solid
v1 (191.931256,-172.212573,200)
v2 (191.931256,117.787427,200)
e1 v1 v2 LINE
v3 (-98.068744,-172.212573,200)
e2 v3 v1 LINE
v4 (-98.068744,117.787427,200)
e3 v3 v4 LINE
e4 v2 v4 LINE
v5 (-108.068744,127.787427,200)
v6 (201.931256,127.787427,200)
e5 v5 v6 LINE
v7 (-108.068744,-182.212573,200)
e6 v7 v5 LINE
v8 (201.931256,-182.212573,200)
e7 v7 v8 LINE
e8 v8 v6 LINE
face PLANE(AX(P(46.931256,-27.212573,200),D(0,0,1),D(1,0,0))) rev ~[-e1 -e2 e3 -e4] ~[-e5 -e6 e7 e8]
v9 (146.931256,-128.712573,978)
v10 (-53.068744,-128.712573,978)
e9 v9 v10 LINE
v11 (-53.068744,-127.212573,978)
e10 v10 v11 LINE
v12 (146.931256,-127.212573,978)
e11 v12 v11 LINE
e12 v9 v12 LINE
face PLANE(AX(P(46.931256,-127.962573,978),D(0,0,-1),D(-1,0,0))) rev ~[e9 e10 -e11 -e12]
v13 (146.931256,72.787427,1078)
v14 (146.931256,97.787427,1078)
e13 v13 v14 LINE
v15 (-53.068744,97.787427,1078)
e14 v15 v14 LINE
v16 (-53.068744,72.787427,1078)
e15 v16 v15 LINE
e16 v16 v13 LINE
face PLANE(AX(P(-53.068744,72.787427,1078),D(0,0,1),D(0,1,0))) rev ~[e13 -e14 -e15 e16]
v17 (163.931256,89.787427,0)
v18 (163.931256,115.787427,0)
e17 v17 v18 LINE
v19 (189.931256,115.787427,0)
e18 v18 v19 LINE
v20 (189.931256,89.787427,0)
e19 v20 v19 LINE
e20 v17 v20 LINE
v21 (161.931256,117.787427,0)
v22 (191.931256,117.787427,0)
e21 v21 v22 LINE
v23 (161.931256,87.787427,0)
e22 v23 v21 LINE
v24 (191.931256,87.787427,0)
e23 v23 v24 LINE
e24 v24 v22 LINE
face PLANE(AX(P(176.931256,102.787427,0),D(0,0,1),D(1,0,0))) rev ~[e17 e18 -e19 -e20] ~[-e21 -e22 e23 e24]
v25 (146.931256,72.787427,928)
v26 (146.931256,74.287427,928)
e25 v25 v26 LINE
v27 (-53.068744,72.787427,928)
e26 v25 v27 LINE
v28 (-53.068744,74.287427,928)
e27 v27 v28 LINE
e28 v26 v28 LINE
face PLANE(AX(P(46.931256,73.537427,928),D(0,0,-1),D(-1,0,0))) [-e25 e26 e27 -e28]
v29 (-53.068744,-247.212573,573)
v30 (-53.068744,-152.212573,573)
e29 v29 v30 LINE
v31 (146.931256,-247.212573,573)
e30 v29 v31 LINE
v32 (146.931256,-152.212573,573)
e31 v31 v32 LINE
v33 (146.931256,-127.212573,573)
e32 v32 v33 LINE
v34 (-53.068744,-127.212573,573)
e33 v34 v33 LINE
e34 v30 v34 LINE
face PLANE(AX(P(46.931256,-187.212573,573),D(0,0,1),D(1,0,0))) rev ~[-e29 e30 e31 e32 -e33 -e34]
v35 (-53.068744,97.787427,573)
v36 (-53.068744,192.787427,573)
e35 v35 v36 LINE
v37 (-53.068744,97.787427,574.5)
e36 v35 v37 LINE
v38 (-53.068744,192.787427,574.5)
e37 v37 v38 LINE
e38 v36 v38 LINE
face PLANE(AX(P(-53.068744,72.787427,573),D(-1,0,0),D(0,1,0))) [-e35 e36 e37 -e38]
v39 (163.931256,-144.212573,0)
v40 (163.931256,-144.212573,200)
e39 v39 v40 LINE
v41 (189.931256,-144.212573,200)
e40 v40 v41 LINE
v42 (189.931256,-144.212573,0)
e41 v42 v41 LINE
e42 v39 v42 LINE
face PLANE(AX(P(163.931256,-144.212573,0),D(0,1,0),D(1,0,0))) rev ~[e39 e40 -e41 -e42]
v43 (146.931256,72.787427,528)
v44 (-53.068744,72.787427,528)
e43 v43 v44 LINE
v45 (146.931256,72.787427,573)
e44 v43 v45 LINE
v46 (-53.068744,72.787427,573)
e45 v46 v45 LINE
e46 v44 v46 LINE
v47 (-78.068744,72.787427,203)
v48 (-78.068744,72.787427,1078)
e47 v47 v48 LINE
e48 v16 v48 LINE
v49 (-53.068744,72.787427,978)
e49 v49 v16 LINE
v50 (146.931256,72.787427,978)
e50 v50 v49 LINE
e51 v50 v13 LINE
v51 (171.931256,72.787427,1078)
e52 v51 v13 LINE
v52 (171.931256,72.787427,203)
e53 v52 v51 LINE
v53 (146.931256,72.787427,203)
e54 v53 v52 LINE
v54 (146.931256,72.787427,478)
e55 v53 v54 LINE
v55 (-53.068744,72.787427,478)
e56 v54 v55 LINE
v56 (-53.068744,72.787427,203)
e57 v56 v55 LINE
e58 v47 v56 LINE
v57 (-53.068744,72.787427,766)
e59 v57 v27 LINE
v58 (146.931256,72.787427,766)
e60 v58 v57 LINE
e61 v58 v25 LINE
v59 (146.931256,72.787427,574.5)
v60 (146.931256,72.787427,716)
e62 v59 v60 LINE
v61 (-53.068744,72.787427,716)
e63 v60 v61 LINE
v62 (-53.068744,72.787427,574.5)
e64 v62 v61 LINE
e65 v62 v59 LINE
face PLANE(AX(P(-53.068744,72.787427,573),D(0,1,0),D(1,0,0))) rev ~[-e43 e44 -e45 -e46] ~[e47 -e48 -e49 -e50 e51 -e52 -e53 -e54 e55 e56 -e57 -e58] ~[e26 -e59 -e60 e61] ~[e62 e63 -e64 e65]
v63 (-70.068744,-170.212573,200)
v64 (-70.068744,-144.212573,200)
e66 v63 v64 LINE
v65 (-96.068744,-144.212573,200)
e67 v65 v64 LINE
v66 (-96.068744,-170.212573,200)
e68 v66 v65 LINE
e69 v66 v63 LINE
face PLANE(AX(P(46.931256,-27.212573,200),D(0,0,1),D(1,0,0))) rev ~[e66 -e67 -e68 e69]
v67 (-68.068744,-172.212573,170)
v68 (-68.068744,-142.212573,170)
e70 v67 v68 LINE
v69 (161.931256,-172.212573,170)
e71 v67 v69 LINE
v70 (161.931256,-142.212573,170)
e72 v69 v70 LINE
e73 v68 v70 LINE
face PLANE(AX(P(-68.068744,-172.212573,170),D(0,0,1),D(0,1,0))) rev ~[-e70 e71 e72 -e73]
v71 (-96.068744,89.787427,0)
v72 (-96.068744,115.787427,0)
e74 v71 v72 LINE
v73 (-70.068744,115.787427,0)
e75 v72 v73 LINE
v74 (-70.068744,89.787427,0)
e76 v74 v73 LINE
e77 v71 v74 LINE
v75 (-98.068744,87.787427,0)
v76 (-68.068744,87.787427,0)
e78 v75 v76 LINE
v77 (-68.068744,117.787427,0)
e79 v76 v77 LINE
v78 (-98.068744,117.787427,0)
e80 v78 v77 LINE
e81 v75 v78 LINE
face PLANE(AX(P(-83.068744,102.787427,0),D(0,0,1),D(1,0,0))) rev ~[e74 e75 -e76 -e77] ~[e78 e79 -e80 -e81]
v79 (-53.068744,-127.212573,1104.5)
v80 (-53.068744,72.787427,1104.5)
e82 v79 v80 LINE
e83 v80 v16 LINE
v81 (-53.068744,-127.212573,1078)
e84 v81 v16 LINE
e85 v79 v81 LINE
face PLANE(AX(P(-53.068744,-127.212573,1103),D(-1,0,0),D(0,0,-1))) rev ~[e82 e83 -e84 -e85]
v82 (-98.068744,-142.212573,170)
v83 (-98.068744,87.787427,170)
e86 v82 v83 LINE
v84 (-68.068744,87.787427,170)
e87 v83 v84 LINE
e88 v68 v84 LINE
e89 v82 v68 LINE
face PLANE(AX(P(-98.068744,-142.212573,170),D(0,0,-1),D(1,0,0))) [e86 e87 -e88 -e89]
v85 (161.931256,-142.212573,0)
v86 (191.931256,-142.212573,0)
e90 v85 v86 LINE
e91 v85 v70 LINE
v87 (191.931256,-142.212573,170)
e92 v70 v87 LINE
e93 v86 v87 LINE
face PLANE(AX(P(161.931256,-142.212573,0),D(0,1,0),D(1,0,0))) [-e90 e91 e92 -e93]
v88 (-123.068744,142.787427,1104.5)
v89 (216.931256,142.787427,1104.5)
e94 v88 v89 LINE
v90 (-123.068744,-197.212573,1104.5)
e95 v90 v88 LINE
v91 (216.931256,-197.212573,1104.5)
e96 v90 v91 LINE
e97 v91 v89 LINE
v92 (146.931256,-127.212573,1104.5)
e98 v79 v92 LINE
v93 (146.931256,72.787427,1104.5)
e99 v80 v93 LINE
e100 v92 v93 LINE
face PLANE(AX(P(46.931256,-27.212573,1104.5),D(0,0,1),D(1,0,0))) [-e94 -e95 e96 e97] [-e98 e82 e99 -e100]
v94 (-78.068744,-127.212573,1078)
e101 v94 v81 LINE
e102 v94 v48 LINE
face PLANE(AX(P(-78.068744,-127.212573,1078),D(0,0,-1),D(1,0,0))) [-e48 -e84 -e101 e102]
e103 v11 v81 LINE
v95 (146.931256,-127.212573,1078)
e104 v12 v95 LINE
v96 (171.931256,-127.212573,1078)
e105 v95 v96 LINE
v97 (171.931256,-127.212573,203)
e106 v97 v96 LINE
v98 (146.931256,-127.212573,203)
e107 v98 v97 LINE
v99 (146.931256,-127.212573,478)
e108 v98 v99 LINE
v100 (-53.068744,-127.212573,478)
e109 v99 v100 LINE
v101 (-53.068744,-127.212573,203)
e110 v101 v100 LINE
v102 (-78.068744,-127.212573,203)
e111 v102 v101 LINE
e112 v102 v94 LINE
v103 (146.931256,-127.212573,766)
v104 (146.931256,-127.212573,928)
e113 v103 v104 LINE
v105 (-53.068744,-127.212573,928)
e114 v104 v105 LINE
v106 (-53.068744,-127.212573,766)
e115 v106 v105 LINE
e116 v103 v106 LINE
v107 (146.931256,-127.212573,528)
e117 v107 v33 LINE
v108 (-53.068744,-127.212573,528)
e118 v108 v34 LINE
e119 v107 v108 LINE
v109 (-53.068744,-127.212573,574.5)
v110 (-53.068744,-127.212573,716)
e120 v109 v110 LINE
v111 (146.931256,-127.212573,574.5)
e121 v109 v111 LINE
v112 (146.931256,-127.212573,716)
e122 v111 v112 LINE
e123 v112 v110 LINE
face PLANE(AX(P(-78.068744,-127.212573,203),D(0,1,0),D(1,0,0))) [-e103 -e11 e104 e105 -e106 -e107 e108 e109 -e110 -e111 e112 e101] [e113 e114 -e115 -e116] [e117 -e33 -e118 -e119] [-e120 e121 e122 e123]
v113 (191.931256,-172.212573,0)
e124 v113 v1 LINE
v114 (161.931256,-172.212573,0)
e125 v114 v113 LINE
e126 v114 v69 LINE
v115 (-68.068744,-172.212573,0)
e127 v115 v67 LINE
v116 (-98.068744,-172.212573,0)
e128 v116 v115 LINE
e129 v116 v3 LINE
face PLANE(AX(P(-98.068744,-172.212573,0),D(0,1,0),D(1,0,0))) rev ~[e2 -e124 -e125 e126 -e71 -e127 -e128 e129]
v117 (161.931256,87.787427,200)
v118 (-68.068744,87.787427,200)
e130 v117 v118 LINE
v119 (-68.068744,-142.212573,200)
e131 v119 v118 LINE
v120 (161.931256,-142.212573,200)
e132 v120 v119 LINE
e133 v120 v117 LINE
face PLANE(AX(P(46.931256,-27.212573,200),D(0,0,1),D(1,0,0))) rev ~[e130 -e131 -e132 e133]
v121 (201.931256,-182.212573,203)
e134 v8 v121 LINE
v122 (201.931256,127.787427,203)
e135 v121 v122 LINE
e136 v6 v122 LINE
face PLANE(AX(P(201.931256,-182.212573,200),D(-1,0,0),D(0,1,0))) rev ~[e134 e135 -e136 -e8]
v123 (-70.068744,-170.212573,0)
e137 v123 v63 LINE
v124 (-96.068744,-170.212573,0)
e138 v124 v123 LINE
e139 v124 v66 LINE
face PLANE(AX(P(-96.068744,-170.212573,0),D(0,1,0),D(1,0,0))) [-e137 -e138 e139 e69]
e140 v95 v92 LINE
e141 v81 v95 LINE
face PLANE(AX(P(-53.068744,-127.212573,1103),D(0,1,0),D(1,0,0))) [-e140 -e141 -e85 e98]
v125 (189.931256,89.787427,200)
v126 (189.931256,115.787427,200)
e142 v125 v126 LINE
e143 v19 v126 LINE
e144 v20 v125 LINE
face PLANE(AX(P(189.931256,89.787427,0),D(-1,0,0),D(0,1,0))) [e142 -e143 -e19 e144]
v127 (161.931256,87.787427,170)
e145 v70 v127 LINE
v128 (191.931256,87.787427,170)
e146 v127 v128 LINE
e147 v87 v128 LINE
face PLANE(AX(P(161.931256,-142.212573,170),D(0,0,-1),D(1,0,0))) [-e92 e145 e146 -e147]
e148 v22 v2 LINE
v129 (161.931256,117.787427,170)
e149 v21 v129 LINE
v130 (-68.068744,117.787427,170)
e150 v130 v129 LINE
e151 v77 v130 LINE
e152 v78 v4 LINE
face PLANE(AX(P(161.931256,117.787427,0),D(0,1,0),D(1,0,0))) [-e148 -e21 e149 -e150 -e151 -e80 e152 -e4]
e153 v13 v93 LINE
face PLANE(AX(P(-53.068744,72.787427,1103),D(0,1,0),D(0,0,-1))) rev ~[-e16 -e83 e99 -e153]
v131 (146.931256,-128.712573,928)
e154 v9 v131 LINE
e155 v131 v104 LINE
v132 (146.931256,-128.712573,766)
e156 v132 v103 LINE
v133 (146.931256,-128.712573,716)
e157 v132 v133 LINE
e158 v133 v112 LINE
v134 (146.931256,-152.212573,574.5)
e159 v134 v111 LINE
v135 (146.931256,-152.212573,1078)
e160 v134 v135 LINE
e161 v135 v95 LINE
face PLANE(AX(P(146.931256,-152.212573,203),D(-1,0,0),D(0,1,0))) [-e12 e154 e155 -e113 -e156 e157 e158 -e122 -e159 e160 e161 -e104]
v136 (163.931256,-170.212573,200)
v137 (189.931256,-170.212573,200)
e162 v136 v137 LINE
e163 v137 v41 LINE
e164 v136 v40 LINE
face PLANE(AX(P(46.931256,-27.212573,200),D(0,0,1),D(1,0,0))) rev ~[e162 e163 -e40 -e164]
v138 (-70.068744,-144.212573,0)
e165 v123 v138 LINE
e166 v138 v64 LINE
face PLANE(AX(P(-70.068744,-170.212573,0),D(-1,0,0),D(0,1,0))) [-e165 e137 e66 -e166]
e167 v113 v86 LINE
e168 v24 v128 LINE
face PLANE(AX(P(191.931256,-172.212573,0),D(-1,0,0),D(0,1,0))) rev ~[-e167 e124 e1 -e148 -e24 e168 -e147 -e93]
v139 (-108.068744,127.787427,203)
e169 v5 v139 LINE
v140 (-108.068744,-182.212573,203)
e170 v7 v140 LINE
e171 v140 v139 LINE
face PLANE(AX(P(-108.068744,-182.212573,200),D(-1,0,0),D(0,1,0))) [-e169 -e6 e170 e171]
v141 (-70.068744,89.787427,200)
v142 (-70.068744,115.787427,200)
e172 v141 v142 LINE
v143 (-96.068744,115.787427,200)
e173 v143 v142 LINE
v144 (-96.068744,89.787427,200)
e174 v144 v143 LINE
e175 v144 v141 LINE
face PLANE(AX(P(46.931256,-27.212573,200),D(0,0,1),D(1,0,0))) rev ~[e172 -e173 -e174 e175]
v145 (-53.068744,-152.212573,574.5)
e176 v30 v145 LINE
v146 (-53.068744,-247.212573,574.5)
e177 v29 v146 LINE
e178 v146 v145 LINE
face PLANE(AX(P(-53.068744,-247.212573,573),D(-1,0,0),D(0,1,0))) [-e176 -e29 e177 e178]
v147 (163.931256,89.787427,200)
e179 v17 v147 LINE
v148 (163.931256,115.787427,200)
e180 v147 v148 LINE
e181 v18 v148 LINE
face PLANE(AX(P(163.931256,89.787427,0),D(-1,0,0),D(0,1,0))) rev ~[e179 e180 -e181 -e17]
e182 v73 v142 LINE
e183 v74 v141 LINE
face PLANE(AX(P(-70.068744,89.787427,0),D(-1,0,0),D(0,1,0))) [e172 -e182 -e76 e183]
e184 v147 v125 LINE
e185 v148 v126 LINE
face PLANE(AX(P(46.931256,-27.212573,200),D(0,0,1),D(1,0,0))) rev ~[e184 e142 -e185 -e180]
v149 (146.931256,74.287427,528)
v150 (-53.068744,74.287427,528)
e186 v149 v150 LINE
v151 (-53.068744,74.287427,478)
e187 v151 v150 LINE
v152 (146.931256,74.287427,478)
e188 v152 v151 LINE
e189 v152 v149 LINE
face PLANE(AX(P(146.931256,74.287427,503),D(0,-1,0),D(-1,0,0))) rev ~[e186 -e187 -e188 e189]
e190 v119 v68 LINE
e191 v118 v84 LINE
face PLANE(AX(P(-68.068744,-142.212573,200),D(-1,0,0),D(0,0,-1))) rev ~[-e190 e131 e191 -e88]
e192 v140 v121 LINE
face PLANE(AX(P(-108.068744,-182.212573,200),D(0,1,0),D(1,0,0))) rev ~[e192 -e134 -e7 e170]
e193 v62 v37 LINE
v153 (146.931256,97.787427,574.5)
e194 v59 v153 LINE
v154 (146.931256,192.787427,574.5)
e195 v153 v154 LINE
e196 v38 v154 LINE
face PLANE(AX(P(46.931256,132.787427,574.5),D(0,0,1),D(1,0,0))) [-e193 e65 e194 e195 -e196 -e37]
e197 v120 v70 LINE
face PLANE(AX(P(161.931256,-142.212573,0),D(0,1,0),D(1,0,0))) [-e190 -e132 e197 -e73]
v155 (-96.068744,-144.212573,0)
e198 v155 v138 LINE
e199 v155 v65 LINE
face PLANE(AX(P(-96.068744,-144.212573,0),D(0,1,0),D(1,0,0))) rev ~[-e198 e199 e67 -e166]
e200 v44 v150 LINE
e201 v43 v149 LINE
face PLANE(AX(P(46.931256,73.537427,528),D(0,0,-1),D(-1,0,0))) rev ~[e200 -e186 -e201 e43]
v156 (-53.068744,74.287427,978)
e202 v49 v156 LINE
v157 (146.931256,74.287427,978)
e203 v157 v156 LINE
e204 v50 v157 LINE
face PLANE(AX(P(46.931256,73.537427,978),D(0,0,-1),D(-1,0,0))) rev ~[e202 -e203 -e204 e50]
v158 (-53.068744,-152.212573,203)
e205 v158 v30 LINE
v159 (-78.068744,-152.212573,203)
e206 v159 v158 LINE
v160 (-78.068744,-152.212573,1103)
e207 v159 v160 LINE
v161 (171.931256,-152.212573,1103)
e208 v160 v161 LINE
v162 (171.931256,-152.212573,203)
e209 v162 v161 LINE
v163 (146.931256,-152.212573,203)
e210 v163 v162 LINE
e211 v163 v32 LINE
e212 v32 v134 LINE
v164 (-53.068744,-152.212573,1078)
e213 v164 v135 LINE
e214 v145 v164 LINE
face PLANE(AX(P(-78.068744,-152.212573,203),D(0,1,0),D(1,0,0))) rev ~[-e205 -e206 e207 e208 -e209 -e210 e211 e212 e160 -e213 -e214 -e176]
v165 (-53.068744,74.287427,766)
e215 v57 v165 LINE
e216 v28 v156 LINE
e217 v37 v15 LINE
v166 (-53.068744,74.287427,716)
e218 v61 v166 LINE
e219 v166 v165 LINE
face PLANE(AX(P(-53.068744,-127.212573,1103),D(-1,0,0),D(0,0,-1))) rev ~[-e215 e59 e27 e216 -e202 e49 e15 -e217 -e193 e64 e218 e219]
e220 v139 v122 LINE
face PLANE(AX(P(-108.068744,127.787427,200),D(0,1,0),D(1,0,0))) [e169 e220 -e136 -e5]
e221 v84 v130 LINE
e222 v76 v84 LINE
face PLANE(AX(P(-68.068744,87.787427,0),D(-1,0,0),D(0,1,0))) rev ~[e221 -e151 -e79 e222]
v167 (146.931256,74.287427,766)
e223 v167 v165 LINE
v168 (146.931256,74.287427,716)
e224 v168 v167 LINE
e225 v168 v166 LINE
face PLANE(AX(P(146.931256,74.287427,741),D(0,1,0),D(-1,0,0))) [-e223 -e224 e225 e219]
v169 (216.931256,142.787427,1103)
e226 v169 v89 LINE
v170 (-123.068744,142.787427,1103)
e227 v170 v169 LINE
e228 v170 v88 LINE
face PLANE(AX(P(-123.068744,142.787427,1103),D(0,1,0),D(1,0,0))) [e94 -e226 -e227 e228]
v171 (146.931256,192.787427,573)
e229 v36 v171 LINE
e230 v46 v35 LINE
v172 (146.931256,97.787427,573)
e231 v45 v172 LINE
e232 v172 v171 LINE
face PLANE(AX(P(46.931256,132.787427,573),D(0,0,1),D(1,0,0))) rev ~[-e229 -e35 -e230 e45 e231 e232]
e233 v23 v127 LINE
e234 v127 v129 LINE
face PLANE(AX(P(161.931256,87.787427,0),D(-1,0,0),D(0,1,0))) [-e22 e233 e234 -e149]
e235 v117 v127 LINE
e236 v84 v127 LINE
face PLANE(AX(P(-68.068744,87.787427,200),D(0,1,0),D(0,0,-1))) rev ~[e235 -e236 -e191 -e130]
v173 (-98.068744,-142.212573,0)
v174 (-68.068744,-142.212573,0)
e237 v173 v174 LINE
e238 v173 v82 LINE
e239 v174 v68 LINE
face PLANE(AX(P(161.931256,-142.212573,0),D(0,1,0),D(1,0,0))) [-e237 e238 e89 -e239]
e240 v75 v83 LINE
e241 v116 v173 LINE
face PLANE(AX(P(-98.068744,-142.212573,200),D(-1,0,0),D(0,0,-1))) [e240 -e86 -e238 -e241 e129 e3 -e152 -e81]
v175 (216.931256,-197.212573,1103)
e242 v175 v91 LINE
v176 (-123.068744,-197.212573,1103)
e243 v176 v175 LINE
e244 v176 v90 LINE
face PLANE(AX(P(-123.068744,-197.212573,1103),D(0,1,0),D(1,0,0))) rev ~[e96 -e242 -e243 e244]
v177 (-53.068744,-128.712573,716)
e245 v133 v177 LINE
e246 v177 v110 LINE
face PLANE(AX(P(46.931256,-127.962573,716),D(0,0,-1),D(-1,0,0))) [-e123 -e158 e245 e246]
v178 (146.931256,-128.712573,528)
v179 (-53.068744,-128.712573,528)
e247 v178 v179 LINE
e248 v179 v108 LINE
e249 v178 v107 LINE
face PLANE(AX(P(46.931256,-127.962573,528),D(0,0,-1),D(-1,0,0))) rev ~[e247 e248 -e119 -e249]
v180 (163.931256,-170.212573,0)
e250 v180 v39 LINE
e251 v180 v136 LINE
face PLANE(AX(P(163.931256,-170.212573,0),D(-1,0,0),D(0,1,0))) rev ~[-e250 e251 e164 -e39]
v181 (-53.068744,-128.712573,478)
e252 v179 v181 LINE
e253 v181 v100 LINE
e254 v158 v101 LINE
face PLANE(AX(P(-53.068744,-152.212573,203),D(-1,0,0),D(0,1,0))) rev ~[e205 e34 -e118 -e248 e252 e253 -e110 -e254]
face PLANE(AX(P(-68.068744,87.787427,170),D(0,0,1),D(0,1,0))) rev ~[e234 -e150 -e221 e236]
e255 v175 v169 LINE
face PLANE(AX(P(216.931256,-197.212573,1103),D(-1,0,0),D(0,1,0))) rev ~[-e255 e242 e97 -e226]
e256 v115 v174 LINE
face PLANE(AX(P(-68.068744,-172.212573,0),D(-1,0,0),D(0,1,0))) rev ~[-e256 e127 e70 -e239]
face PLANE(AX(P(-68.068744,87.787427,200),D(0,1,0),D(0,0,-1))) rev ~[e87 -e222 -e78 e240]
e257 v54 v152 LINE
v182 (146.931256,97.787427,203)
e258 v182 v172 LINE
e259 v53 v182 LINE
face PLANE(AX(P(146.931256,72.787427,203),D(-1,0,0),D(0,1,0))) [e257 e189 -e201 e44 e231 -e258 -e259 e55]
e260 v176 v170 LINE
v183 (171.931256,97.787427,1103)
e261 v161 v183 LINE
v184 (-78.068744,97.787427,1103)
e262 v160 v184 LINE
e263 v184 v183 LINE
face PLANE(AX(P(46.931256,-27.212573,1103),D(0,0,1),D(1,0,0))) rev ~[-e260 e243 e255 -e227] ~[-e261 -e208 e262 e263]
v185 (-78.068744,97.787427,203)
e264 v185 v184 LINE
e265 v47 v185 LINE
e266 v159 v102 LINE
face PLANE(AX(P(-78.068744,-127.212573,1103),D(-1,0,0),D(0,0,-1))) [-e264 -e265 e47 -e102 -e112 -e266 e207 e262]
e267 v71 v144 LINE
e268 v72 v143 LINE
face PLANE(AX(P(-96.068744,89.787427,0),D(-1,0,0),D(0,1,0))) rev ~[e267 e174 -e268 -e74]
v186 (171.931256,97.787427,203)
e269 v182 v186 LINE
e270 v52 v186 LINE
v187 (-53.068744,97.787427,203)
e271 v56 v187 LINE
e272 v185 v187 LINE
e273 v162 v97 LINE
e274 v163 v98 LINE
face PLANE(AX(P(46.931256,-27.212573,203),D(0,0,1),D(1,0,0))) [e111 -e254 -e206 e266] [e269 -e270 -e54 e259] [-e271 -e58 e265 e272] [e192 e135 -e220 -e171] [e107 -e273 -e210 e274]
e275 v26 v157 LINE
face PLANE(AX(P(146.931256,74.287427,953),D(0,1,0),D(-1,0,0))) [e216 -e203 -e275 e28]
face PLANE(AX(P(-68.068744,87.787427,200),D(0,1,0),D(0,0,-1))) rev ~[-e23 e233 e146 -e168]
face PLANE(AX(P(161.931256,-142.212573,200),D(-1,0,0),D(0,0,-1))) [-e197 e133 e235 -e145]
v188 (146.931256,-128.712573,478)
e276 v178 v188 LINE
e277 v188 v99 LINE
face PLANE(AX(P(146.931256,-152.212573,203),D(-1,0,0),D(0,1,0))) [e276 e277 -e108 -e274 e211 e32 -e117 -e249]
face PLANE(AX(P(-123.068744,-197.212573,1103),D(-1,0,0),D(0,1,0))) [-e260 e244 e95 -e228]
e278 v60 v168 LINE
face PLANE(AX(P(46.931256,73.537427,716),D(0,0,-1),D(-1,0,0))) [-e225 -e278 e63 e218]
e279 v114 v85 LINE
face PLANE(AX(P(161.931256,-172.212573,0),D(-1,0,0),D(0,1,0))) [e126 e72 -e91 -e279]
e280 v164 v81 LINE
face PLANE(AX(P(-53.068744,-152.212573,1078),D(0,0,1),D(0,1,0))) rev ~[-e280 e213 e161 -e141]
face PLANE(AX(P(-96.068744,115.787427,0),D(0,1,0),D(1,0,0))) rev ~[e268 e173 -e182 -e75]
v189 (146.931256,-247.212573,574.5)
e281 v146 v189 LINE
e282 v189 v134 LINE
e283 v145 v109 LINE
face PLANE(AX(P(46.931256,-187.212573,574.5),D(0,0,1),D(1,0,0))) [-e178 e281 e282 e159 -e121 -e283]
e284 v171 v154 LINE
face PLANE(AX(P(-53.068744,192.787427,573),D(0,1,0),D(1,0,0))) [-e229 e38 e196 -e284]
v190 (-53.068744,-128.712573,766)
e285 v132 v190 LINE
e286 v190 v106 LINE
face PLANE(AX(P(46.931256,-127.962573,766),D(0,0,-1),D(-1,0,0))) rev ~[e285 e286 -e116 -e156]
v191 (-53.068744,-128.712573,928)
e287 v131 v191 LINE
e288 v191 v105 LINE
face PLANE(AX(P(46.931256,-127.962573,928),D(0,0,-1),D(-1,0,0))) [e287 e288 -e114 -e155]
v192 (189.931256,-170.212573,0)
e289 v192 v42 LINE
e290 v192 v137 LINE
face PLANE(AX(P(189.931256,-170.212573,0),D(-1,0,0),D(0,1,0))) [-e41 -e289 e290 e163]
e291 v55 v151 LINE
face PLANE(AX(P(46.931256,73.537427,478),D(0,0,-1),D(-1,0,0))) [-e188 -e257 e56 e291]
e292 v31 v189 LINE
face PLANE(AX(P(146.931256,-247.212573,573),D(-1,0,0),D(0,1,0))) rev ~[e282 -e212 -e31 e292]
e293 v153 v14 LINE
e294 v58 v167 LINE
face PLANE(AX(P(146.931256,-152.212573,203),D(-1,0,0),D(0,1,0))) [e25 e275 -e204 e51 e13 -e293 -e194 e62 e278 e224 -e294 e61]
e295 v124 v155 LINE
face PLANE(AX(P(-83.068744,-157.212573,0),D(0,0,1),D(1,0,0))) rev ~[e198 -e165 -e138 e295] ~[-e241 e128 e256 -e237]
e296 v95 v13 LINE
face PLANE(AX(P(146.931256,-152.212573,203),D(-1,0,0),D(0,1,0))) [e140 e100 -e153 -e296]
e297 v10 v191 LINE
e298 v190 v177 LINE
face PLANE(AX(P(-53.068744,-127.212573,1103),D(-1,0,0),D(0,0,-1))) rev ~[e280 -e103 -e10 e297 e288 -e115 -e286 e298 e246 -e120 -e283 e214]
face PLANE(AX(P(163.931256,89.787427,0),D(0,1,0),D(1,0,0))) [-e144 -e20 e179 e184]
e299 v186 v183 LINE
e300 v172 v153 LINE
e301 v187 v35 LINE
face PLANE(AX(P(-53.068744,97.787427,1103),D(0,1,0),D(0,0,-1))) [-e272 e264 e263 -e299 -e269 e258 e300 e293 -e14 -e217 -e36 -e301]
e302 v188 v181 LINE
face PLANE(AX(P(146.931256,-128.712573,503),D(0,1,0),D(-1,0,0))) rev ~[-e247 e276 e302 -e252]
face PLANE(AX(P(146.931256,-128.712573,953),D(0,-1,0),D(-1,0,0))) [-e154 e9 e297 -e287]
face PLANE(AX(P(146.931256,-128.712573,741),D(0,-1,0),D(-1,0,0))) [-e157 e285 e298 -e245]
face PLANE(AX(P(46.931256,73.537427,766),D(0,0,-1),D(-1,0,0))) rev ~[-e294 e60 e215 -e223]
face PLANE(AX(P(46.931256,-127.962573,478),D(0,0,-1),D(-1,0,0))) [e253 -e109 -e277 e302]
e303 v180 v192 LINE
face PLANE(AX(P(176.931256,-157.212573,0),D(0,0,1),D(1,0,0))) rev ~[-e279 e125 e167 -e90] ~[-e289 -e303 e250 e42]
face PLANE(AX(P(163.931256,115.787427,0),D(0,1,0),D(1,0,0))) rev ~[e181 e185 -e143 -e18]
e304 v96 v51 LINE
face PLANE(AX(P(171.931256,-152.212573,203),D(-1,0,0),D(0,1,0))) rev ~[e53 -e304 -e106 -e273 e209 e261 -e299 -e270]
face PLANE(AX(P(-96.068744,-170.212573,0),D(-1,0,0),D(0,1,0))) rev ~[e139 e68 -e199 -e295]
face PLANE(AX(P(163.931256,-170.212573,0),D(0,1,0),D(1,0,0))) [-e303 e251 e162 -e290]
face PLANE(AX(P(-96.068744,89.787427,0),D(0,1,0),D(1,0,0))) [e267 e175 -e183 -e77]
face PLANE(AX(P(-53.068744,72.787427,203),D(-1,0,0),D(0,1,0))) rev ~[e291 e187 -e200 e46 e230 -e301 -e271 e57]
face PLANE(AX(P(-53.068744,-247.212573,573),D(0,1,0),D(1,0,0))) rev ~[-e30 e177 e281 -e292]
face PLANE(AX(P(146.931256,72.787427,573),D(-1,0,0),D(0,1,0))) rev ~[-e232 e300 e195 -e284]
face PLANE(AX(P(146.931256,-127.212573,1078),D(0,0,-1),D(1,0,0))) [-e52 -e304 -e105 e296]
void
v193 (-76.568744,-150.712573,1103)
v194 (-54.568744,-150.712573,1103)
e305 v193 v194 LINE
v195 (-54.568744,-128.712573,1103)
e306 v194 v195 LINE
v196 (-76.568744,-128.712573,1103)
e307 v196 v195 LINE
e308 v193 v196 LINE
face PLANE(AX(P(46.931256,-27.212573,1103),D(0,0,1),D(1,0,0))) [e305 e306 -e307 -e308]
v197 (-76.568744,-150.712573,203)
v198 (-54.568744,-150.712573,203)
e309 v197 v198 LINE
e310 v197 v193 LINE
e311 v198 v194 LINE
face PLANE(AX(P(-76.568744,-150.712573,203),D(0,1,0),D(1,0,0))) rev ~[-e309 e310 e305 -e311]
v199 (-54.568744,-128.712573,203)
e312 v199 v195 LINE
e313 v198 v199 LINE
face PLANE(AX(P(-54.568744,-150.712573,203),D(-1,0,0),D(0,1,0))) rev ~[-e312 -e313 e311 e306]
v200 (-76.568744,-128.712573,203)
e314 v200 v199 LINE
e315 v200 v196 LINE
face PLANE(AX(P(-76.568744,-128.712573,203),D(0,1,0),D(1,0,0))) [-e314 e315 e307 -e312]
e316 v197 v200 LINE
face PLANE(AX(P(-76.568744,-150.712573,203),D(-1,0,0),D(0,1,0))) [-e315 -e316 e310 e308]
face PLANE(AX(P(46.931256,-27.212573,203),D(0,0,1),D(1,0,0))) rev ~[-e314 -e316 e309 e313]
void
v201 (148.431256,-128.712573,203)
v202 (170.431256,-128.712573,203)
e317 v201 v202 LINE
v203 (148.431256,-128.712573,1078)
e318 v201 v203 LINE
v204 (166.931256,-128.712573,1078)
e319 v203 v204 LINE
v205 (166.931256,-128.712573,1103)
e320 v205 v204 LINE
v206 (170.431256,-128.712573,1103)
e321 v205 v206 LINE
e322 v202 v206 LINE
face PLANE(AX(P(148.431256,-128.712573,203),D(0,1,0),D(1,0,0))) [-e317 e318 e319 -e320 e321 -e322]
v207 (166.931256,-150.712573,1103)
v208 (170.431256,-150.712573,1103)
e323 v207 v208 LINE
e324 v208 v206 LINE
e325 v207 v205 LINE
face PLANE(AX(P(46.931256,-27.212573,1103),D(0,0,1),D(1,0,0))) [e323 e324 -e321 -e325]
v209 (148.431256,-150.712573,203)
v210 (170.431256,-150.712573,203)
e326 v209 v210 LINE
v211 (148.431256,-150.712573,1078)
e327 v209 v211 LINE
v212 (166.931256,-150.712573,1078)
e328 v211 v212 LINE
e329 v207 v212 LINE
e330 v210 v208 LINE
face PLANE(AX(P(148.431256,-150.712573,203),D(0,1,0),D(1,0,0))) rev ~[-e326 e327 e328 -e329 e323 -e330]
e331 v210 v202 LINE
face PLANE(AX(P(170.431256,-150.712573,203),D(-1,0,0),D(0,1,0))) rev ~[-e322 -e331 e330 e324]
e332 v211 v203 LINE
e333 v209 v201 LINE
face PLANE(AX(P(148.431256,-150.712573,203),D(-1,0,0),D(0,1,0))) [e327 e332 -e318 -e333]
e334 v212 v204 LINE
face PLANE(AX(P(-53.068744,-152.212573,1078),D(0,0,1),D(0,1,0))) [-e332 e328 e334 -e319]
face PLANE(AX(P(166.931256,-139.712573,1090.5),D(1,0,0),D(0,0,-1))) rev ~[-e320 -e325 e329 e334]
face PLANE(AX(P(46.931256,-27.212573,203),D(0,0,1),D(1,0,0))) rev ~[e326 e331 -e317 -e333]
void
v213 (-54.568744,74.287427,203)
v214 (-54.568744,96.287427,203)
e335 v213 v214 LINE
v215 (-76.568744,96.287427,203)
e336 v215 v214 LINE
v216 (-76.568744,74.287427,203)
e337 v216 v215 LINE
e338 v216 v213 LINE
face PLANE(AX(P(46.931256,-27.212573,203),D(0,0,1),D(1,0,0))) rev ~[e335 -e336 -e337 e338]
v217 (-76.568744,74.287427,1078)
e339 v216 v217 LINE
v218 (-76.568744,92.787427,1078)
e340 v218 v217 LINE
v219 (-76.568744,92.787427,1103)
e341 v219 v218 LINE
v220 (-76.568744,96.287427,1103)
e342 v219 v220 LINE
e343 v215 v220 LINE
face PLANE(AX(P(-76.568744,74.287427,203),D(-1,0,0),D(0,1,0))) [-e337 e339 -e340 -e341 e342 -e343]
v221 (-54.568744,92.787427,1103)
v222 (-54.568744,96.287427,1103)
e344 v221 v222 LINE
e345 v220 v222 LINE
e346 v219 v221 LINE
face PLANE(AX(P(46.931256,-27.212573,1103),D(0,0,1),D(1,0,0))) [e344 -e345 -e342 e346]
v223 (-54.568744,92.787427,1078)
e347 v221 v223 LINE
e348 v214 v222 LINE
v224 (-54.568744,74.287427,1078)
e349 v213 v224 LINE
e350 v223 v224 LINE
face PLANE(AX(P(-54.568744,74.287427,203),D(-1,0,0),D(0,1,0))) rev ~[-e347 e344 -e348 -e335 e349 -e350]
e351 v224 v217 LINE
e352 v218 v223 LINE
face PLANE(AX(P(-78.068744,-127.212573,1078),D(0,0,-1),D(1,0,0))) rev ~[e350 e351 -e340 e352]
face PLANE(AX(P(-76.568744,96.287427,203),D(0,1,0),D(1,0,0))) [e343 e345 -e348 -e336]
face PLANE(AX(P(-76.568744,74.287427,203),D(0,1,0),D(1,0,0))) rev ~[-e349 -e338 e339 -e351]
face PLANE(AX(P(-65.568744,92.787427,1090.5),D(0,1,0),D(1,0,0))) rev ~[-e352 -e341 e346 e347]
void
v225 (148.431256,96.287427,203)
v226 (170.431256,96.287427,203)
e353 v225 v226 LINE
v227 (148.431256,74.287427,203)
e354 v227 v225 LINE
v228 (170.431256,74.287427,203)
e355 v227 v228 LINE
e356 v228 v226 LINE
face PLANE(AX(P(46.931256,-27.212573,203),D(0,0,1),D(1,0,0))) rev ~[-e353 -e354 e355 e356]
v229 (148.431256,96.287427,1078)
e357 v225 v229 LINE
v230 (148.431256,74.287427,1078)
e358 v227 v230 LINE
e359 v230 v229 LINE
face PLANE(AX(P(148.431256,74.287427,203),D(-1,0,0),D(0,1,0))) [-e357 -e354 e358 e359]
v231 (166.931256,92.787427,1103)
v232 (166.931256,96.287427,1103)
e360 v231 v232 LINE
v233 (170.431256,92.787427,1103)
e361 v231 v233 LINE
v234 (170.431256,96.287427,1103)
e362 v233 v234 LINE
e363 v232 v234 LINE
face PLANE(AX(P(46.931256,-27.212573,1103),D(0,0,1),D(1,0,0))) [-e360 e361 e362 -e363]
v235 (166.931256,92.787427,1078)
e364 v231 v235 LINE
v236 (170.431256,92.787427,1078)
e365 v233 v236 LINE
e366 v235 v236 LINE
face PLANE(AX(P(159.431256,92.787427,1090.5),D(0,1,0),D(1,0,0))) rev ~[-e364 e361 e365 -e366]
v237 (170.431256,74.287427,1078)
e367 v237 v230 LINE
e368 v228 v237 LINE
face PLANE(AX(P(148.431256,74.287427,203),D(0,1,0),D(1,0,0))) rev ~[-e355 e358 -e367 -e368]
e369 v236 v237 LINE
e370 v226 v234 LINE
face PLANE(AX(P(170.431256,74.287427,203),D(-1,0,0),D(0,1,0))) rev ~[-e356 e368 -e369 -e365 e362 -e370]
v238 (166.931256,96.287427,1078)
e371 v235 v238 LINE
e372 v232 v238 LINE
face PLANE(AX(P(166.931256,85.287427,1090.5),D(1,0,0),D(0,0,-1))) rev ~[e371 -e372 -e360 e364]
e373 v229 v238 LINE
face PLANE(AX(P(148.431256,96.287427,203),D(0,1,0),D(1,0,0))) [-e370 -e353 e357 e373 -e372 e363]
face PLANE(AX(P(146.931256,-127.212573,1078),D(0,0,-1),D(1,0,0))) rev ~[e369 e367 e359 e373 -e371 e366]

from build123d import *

# Parameters (mm, degrees)
SKETCH_1_W        = 30
SKETCH_1_H        = 30
SKETCH_1_W_2      = 26
SKETCH_1_H_2      = 26
EXTRUDE_1_DEPTH   = 200
EXTRUDE_1_2_DEPTH = 200
EXTRUDE_1_3_DEPTH = 200
EXTRUDE_1_4_DEPTH = 200
SKETCH_2_W        = 310
SKETCH_2_H        = 310
EXTRUDE_2_DEPTH   = 3
SKETCH_5_W        = 25
SKETCH_5_H        = 25
SKETCH_5_W_2      = 22
SKETCH_5_H_2      = 22
EXTRUDE_3_DEPTH   = 900
SKETCH_6_W        = 340
SKETCH_6_H        = 340
SKETCH_6_W_2      = 200
SKETCH_6_H_2      = 200
EXTRUDE_4_DEPTH   = 1.5
SKETCH_7_W        = 200
SKETCH_7_H        = 120
EXTRUDE_5_DEPTH   = 1.5
SKETCH_8_W        = 200
SKETCH_8_H        = 1.5
EXTRUDE_6_DEPTH   = 25
SKETCH_9_W        = 200
SKETCH_9_H        = 1.5
EXTRUDE_7_DEPTH   = 25
SKETCH_11_W       = 200
SKETCH_11_H       = 1.5
EXTRUDE_8_DEPTH   = 25
SKETCH_12_W       = 30
SKETCH_12_H       = 30
EXTRUDE_9_DEPTH   = 230
SKETCH_13_W       = 30
SKETCH_13_H       = 30
EXTRUDE_10_DEPTH  = 230
SKETCH_14_W       = 25
SKETCH_14_H       = 25
EXTRUDE_11_DEPTH  = 220
SKETCH_15_W       = 25
SKETCH_15_H       = 25
EXTRUDE_12_DEPTH  = 220


with BuildPart() as part:
    # 草圖1 → 填料-伸長1 (new body)
    with BuildSketch(Plane.XY):
        with Locations((-83.068744212, 102.787427317)):
            Rectangle(SKETCH_1_W, SKETCH_1_H)
        with Locations((-83.068744212, 102.787427317)):
            Rectangle(SKETCH_1_W_2, SKETCH_1_H_2, mode=Mode.SUBTRACT)
    extrude(amount=EXTRUDE_1_DEPTH)



with BuildPart() as body_2:
    # 草圖1 → Extrude 1 2 (new body)
    with BuildSketch(Plane.XY):
        with Locations((176.931255788, 102.787427317)):
            Rectangle(SKETCH_1_W, SKETCH_1_H)
        with Locations((176.931255788, 102.787427317)):
            Rectangle(SKETCH_1_W_2, SKETCH_1_H_2, mode=Mode.SUBTRACT)
    extrude(amount=EXTRUDE_1_2_DEPTH)


with BuildPart() as body_3:
    # 草圖1 → Extrude 1 3 (new body)
    with BuildSketch(Plane.XY):
        with Locations((-83.068744212, -157.212572683)):
            Rectangle(SKETCH_1_W, SKETCH_1_H)
        with Locations((-83.068744212, -157.212572683)):
            Rectangle(SKETCH_1_W_2, SKETCH_1_H_2, mode=Mode.SUBTRACT)
    extrude(amount=EXTRUDE_1_3_DEPTH)


with BuildPart() as body_4:
    # 草圖1 → Extrude 1 4 (new body)
    with BuildSketch(Plane.XY):
        with Locations((176.931255788, -157.212572683)):
            Rectangle(SKETCH_1_W, SKETCH_1_H)
        with Locations((176.931255788, -157.212572683)):
            Rectangle(SKETCH_1_W_2, SKETCH_1_H_2, mode=Mode.SUBTRACT)
    extrude(amount=EXTRUDE_1_4_DEPTH)


with BuildPart() as part_1:
    add(part.part)

    add(body_2.part)  # 填料-伸長2 merges body 2

    add(body_3.part)  # 填料-伸長2 merges body 3

    add(body_4.part)  # 填料-伸長2 merges body 4
    # 草圖2 → 填料-伸長2 (add)
    with BuildSketch(Plane.XY.offset(200)):
        with Locations((46.931255788, -27.212572683)):
            Rectangle(SKETCH_2_W, SKETCH_2_H)
    extrude(amount=EXTRUDE_2_DEPTH)

    # 草圖5 → 填料-伸長3 (add)
    with BuildSketch(Plane.XY.offset(203)):
        with Locations((-65.568744212, 85.287427317)):
            Rectangle(SKETCH_5_W, SKETCH_5_H)
        with Locations((-65.568744212, 85.287427317)):
            Rectangle(SKETCH_5_W_2, SKETCH_5_H_2, mode=Mode.SUBTRACT)
        with Locations((-65.568744212, -139.712572683)):
            Rectangle(SKETCH_5_W, SKETCH_5_H)
        with Locations((-65.568744212, -139.712572683)):
            Rectangle(SKETCH_5_W_2, SKETCH_5_H_2, mode=Mode.SUBTRACT)
        with Locations((159.431255788, -139.712572683)):
            Rectangle(SKETCH_5_W, SKETCH_5_H)
        with Locations((159.431255788, -139.712572683)):
            Rectangle(SKETCH_5_W_2, SKETCH_5_H_2, mode=Mode.SUBTRACT)
        with Locations((159.431255788, 85.287427317)):
            Rectangle(SKETCH_5_W, SKETCH_5_H)
        with Locations((159.431255788, 85.287427317)):
            Rectangle(SKETCH_5_W_2, SKETCH_5_H_2, mode=Mode.SUBTRACT)
    extrude(amount=EXTRUDE_3_DEPTH)

    # 草圖6 → 填料-伸長4 (add)
    with BuildSketch(Plane.XY.offset(1103)):
        with Locations((46.931255788, -27.212572683)):
            Rectangle(SKETCH_6_W, SKETCH_6_H)
        with Locations((46.931255788, -27.212572683)):
            Rectangle(SKETCH_6_W_2, SKETCH_6_H_2, mode=Mode.SUBTRACT)
    extrude(amount=EXTRUDE_4_DEPTH)

    # 草圖7 → 填料-伸長5 (add)
    with BuildSketch(Plane.XY.offset(573)):
        with Locations((46.931255788, 132.787427317)):
            Rectangle(SKETCH_7_W, SKETCH_7_H)
        with Locations((46.931255788, -187.212572683)):
            Rectangle(SKETCH_7_W, SKETCH_7_H)
    extrude(amount=EXTRUDE_5_DEPTH)

    # 草圖8 → 填料-伸長6 (add, symmetric)
    with BuildSketch(Plane(origin=(0, 0, 953), x_dir=(-1, 0, 0), z_dir=(0, 0, -1))):
        with Locations((-46.931255788, 73.537427317)):
            Rectangle(SKETCH_8_W, SKETCH_8_H)
        with Locations((-46.931255788, -127.962572683)):
            Rectangle(SKETCH_8_W, SKETCH_8_H)
    extrude(amount=EXTRUDE_6_DEPTH, both=True)

    # 草圖9 → 填料-伸長7 (add, symmetric)
    with BuildSketch(Plane(origin=(0, 0, 741), x_dir=(-1, 0, 0), z_dir=(0, 0, -1))):
        with Locations((-46.931255788, 73.537427317)):
            Rectangle(SKETCH_9_W, SKETCH_9_H)
        with Locations((-46.931255788, -127.962572683)):
            Rectangle(SKETCH_9_W, SKETCH_9_H)
    extrude(amount=EXTRUDE_7_DEPTH, both=True)

    # 草圖11 → 填料-伸長8 (add, symmetric)
    with BuildSketch(Plane(origin=(0, 0, 503), x_dir=(-1, 0, 0), z_dir=(0, 0, -1))):
        with Locations((-46.931255788, -127.962572683)):
            Rectangle(SKETCH_11_W, SKETCH_11_H)
        with Locations((-46.931255788, 73.537427317)):
            Rectangle(SKETCH_11_W, SKETCH_11_H)
    extrude(amount=EXTRUDE_8_DEPTH, both=True)

    # 草圖12 → 填料-伸長9 (add)
    with BuildSketch(Plane(origin=(-68.068744212, 0, 0), x_dir=(0, 0, -1), z_dir=(1, 0, 0))):
        with Locations((-185, 102.787427317)):
            Rectangle(SKETCH_12_W, SKETCH_12_H)
        with Locations((-185, -157.212572683)):
            Rectangle(SKETCH_12_W, SKETCH_12_H)
    extrude(amount=EXTRUDE_9_DEPTH)

    # 草圖13 → 填料-伸長10 (add)
    with BuildSketch(Plane(origin=(0, -142.212572683, 0), x_dir=(1, 0, 0), z_dir=(0, 1, 0))):
        with Locations((-83.068744212, -185)):
            Rectangle(SKETCH_13_W, SKETCH_13_H)
        with Locations((176.931255788, -185)):
            Rectangle(SKETCH_13_W, SKETCH_13_H)
    extrude(amount=EXTRUDE_10_DEPTH)

    # 草圖14 → 填料-伸長11 (add)
    with BuildSketch(Plane(origin=(0, -127.212572683, 0), x_dir=(1, 0, 0), z_dir=(0, 1, 0))):
        with Locations((-65.568744212, -1090.5)):
            Rectangle(SKETCH_14_W, SKETCH_14_H)
        with Locations((159.431255788, -1090.5)):
            Rectangle(SKETCH_14_W, SKETCH_14_H)
    extrude(amount=EXTRUDE_11_DEPTH)

    # 草圖15 → 填料-伸長12 (add)
    with BuildSketch(Plane(origin=(-53.068744212, 0, 0), x_dir=(0, 0, -1), z_dir=(1, 0, 0))):
        with Locations((-1090.5, 85.287427317)):
            Rectangle(SKETCH_15_W, SKETCH_15_H)
        with Locations((-1090.5, -139.712572683)):
            Rectangle(SKETCH_15_W, SKETCH_15_H)
    extrude(amount=EXTRUDE_12_DEPTH)


solid = part_1.part
